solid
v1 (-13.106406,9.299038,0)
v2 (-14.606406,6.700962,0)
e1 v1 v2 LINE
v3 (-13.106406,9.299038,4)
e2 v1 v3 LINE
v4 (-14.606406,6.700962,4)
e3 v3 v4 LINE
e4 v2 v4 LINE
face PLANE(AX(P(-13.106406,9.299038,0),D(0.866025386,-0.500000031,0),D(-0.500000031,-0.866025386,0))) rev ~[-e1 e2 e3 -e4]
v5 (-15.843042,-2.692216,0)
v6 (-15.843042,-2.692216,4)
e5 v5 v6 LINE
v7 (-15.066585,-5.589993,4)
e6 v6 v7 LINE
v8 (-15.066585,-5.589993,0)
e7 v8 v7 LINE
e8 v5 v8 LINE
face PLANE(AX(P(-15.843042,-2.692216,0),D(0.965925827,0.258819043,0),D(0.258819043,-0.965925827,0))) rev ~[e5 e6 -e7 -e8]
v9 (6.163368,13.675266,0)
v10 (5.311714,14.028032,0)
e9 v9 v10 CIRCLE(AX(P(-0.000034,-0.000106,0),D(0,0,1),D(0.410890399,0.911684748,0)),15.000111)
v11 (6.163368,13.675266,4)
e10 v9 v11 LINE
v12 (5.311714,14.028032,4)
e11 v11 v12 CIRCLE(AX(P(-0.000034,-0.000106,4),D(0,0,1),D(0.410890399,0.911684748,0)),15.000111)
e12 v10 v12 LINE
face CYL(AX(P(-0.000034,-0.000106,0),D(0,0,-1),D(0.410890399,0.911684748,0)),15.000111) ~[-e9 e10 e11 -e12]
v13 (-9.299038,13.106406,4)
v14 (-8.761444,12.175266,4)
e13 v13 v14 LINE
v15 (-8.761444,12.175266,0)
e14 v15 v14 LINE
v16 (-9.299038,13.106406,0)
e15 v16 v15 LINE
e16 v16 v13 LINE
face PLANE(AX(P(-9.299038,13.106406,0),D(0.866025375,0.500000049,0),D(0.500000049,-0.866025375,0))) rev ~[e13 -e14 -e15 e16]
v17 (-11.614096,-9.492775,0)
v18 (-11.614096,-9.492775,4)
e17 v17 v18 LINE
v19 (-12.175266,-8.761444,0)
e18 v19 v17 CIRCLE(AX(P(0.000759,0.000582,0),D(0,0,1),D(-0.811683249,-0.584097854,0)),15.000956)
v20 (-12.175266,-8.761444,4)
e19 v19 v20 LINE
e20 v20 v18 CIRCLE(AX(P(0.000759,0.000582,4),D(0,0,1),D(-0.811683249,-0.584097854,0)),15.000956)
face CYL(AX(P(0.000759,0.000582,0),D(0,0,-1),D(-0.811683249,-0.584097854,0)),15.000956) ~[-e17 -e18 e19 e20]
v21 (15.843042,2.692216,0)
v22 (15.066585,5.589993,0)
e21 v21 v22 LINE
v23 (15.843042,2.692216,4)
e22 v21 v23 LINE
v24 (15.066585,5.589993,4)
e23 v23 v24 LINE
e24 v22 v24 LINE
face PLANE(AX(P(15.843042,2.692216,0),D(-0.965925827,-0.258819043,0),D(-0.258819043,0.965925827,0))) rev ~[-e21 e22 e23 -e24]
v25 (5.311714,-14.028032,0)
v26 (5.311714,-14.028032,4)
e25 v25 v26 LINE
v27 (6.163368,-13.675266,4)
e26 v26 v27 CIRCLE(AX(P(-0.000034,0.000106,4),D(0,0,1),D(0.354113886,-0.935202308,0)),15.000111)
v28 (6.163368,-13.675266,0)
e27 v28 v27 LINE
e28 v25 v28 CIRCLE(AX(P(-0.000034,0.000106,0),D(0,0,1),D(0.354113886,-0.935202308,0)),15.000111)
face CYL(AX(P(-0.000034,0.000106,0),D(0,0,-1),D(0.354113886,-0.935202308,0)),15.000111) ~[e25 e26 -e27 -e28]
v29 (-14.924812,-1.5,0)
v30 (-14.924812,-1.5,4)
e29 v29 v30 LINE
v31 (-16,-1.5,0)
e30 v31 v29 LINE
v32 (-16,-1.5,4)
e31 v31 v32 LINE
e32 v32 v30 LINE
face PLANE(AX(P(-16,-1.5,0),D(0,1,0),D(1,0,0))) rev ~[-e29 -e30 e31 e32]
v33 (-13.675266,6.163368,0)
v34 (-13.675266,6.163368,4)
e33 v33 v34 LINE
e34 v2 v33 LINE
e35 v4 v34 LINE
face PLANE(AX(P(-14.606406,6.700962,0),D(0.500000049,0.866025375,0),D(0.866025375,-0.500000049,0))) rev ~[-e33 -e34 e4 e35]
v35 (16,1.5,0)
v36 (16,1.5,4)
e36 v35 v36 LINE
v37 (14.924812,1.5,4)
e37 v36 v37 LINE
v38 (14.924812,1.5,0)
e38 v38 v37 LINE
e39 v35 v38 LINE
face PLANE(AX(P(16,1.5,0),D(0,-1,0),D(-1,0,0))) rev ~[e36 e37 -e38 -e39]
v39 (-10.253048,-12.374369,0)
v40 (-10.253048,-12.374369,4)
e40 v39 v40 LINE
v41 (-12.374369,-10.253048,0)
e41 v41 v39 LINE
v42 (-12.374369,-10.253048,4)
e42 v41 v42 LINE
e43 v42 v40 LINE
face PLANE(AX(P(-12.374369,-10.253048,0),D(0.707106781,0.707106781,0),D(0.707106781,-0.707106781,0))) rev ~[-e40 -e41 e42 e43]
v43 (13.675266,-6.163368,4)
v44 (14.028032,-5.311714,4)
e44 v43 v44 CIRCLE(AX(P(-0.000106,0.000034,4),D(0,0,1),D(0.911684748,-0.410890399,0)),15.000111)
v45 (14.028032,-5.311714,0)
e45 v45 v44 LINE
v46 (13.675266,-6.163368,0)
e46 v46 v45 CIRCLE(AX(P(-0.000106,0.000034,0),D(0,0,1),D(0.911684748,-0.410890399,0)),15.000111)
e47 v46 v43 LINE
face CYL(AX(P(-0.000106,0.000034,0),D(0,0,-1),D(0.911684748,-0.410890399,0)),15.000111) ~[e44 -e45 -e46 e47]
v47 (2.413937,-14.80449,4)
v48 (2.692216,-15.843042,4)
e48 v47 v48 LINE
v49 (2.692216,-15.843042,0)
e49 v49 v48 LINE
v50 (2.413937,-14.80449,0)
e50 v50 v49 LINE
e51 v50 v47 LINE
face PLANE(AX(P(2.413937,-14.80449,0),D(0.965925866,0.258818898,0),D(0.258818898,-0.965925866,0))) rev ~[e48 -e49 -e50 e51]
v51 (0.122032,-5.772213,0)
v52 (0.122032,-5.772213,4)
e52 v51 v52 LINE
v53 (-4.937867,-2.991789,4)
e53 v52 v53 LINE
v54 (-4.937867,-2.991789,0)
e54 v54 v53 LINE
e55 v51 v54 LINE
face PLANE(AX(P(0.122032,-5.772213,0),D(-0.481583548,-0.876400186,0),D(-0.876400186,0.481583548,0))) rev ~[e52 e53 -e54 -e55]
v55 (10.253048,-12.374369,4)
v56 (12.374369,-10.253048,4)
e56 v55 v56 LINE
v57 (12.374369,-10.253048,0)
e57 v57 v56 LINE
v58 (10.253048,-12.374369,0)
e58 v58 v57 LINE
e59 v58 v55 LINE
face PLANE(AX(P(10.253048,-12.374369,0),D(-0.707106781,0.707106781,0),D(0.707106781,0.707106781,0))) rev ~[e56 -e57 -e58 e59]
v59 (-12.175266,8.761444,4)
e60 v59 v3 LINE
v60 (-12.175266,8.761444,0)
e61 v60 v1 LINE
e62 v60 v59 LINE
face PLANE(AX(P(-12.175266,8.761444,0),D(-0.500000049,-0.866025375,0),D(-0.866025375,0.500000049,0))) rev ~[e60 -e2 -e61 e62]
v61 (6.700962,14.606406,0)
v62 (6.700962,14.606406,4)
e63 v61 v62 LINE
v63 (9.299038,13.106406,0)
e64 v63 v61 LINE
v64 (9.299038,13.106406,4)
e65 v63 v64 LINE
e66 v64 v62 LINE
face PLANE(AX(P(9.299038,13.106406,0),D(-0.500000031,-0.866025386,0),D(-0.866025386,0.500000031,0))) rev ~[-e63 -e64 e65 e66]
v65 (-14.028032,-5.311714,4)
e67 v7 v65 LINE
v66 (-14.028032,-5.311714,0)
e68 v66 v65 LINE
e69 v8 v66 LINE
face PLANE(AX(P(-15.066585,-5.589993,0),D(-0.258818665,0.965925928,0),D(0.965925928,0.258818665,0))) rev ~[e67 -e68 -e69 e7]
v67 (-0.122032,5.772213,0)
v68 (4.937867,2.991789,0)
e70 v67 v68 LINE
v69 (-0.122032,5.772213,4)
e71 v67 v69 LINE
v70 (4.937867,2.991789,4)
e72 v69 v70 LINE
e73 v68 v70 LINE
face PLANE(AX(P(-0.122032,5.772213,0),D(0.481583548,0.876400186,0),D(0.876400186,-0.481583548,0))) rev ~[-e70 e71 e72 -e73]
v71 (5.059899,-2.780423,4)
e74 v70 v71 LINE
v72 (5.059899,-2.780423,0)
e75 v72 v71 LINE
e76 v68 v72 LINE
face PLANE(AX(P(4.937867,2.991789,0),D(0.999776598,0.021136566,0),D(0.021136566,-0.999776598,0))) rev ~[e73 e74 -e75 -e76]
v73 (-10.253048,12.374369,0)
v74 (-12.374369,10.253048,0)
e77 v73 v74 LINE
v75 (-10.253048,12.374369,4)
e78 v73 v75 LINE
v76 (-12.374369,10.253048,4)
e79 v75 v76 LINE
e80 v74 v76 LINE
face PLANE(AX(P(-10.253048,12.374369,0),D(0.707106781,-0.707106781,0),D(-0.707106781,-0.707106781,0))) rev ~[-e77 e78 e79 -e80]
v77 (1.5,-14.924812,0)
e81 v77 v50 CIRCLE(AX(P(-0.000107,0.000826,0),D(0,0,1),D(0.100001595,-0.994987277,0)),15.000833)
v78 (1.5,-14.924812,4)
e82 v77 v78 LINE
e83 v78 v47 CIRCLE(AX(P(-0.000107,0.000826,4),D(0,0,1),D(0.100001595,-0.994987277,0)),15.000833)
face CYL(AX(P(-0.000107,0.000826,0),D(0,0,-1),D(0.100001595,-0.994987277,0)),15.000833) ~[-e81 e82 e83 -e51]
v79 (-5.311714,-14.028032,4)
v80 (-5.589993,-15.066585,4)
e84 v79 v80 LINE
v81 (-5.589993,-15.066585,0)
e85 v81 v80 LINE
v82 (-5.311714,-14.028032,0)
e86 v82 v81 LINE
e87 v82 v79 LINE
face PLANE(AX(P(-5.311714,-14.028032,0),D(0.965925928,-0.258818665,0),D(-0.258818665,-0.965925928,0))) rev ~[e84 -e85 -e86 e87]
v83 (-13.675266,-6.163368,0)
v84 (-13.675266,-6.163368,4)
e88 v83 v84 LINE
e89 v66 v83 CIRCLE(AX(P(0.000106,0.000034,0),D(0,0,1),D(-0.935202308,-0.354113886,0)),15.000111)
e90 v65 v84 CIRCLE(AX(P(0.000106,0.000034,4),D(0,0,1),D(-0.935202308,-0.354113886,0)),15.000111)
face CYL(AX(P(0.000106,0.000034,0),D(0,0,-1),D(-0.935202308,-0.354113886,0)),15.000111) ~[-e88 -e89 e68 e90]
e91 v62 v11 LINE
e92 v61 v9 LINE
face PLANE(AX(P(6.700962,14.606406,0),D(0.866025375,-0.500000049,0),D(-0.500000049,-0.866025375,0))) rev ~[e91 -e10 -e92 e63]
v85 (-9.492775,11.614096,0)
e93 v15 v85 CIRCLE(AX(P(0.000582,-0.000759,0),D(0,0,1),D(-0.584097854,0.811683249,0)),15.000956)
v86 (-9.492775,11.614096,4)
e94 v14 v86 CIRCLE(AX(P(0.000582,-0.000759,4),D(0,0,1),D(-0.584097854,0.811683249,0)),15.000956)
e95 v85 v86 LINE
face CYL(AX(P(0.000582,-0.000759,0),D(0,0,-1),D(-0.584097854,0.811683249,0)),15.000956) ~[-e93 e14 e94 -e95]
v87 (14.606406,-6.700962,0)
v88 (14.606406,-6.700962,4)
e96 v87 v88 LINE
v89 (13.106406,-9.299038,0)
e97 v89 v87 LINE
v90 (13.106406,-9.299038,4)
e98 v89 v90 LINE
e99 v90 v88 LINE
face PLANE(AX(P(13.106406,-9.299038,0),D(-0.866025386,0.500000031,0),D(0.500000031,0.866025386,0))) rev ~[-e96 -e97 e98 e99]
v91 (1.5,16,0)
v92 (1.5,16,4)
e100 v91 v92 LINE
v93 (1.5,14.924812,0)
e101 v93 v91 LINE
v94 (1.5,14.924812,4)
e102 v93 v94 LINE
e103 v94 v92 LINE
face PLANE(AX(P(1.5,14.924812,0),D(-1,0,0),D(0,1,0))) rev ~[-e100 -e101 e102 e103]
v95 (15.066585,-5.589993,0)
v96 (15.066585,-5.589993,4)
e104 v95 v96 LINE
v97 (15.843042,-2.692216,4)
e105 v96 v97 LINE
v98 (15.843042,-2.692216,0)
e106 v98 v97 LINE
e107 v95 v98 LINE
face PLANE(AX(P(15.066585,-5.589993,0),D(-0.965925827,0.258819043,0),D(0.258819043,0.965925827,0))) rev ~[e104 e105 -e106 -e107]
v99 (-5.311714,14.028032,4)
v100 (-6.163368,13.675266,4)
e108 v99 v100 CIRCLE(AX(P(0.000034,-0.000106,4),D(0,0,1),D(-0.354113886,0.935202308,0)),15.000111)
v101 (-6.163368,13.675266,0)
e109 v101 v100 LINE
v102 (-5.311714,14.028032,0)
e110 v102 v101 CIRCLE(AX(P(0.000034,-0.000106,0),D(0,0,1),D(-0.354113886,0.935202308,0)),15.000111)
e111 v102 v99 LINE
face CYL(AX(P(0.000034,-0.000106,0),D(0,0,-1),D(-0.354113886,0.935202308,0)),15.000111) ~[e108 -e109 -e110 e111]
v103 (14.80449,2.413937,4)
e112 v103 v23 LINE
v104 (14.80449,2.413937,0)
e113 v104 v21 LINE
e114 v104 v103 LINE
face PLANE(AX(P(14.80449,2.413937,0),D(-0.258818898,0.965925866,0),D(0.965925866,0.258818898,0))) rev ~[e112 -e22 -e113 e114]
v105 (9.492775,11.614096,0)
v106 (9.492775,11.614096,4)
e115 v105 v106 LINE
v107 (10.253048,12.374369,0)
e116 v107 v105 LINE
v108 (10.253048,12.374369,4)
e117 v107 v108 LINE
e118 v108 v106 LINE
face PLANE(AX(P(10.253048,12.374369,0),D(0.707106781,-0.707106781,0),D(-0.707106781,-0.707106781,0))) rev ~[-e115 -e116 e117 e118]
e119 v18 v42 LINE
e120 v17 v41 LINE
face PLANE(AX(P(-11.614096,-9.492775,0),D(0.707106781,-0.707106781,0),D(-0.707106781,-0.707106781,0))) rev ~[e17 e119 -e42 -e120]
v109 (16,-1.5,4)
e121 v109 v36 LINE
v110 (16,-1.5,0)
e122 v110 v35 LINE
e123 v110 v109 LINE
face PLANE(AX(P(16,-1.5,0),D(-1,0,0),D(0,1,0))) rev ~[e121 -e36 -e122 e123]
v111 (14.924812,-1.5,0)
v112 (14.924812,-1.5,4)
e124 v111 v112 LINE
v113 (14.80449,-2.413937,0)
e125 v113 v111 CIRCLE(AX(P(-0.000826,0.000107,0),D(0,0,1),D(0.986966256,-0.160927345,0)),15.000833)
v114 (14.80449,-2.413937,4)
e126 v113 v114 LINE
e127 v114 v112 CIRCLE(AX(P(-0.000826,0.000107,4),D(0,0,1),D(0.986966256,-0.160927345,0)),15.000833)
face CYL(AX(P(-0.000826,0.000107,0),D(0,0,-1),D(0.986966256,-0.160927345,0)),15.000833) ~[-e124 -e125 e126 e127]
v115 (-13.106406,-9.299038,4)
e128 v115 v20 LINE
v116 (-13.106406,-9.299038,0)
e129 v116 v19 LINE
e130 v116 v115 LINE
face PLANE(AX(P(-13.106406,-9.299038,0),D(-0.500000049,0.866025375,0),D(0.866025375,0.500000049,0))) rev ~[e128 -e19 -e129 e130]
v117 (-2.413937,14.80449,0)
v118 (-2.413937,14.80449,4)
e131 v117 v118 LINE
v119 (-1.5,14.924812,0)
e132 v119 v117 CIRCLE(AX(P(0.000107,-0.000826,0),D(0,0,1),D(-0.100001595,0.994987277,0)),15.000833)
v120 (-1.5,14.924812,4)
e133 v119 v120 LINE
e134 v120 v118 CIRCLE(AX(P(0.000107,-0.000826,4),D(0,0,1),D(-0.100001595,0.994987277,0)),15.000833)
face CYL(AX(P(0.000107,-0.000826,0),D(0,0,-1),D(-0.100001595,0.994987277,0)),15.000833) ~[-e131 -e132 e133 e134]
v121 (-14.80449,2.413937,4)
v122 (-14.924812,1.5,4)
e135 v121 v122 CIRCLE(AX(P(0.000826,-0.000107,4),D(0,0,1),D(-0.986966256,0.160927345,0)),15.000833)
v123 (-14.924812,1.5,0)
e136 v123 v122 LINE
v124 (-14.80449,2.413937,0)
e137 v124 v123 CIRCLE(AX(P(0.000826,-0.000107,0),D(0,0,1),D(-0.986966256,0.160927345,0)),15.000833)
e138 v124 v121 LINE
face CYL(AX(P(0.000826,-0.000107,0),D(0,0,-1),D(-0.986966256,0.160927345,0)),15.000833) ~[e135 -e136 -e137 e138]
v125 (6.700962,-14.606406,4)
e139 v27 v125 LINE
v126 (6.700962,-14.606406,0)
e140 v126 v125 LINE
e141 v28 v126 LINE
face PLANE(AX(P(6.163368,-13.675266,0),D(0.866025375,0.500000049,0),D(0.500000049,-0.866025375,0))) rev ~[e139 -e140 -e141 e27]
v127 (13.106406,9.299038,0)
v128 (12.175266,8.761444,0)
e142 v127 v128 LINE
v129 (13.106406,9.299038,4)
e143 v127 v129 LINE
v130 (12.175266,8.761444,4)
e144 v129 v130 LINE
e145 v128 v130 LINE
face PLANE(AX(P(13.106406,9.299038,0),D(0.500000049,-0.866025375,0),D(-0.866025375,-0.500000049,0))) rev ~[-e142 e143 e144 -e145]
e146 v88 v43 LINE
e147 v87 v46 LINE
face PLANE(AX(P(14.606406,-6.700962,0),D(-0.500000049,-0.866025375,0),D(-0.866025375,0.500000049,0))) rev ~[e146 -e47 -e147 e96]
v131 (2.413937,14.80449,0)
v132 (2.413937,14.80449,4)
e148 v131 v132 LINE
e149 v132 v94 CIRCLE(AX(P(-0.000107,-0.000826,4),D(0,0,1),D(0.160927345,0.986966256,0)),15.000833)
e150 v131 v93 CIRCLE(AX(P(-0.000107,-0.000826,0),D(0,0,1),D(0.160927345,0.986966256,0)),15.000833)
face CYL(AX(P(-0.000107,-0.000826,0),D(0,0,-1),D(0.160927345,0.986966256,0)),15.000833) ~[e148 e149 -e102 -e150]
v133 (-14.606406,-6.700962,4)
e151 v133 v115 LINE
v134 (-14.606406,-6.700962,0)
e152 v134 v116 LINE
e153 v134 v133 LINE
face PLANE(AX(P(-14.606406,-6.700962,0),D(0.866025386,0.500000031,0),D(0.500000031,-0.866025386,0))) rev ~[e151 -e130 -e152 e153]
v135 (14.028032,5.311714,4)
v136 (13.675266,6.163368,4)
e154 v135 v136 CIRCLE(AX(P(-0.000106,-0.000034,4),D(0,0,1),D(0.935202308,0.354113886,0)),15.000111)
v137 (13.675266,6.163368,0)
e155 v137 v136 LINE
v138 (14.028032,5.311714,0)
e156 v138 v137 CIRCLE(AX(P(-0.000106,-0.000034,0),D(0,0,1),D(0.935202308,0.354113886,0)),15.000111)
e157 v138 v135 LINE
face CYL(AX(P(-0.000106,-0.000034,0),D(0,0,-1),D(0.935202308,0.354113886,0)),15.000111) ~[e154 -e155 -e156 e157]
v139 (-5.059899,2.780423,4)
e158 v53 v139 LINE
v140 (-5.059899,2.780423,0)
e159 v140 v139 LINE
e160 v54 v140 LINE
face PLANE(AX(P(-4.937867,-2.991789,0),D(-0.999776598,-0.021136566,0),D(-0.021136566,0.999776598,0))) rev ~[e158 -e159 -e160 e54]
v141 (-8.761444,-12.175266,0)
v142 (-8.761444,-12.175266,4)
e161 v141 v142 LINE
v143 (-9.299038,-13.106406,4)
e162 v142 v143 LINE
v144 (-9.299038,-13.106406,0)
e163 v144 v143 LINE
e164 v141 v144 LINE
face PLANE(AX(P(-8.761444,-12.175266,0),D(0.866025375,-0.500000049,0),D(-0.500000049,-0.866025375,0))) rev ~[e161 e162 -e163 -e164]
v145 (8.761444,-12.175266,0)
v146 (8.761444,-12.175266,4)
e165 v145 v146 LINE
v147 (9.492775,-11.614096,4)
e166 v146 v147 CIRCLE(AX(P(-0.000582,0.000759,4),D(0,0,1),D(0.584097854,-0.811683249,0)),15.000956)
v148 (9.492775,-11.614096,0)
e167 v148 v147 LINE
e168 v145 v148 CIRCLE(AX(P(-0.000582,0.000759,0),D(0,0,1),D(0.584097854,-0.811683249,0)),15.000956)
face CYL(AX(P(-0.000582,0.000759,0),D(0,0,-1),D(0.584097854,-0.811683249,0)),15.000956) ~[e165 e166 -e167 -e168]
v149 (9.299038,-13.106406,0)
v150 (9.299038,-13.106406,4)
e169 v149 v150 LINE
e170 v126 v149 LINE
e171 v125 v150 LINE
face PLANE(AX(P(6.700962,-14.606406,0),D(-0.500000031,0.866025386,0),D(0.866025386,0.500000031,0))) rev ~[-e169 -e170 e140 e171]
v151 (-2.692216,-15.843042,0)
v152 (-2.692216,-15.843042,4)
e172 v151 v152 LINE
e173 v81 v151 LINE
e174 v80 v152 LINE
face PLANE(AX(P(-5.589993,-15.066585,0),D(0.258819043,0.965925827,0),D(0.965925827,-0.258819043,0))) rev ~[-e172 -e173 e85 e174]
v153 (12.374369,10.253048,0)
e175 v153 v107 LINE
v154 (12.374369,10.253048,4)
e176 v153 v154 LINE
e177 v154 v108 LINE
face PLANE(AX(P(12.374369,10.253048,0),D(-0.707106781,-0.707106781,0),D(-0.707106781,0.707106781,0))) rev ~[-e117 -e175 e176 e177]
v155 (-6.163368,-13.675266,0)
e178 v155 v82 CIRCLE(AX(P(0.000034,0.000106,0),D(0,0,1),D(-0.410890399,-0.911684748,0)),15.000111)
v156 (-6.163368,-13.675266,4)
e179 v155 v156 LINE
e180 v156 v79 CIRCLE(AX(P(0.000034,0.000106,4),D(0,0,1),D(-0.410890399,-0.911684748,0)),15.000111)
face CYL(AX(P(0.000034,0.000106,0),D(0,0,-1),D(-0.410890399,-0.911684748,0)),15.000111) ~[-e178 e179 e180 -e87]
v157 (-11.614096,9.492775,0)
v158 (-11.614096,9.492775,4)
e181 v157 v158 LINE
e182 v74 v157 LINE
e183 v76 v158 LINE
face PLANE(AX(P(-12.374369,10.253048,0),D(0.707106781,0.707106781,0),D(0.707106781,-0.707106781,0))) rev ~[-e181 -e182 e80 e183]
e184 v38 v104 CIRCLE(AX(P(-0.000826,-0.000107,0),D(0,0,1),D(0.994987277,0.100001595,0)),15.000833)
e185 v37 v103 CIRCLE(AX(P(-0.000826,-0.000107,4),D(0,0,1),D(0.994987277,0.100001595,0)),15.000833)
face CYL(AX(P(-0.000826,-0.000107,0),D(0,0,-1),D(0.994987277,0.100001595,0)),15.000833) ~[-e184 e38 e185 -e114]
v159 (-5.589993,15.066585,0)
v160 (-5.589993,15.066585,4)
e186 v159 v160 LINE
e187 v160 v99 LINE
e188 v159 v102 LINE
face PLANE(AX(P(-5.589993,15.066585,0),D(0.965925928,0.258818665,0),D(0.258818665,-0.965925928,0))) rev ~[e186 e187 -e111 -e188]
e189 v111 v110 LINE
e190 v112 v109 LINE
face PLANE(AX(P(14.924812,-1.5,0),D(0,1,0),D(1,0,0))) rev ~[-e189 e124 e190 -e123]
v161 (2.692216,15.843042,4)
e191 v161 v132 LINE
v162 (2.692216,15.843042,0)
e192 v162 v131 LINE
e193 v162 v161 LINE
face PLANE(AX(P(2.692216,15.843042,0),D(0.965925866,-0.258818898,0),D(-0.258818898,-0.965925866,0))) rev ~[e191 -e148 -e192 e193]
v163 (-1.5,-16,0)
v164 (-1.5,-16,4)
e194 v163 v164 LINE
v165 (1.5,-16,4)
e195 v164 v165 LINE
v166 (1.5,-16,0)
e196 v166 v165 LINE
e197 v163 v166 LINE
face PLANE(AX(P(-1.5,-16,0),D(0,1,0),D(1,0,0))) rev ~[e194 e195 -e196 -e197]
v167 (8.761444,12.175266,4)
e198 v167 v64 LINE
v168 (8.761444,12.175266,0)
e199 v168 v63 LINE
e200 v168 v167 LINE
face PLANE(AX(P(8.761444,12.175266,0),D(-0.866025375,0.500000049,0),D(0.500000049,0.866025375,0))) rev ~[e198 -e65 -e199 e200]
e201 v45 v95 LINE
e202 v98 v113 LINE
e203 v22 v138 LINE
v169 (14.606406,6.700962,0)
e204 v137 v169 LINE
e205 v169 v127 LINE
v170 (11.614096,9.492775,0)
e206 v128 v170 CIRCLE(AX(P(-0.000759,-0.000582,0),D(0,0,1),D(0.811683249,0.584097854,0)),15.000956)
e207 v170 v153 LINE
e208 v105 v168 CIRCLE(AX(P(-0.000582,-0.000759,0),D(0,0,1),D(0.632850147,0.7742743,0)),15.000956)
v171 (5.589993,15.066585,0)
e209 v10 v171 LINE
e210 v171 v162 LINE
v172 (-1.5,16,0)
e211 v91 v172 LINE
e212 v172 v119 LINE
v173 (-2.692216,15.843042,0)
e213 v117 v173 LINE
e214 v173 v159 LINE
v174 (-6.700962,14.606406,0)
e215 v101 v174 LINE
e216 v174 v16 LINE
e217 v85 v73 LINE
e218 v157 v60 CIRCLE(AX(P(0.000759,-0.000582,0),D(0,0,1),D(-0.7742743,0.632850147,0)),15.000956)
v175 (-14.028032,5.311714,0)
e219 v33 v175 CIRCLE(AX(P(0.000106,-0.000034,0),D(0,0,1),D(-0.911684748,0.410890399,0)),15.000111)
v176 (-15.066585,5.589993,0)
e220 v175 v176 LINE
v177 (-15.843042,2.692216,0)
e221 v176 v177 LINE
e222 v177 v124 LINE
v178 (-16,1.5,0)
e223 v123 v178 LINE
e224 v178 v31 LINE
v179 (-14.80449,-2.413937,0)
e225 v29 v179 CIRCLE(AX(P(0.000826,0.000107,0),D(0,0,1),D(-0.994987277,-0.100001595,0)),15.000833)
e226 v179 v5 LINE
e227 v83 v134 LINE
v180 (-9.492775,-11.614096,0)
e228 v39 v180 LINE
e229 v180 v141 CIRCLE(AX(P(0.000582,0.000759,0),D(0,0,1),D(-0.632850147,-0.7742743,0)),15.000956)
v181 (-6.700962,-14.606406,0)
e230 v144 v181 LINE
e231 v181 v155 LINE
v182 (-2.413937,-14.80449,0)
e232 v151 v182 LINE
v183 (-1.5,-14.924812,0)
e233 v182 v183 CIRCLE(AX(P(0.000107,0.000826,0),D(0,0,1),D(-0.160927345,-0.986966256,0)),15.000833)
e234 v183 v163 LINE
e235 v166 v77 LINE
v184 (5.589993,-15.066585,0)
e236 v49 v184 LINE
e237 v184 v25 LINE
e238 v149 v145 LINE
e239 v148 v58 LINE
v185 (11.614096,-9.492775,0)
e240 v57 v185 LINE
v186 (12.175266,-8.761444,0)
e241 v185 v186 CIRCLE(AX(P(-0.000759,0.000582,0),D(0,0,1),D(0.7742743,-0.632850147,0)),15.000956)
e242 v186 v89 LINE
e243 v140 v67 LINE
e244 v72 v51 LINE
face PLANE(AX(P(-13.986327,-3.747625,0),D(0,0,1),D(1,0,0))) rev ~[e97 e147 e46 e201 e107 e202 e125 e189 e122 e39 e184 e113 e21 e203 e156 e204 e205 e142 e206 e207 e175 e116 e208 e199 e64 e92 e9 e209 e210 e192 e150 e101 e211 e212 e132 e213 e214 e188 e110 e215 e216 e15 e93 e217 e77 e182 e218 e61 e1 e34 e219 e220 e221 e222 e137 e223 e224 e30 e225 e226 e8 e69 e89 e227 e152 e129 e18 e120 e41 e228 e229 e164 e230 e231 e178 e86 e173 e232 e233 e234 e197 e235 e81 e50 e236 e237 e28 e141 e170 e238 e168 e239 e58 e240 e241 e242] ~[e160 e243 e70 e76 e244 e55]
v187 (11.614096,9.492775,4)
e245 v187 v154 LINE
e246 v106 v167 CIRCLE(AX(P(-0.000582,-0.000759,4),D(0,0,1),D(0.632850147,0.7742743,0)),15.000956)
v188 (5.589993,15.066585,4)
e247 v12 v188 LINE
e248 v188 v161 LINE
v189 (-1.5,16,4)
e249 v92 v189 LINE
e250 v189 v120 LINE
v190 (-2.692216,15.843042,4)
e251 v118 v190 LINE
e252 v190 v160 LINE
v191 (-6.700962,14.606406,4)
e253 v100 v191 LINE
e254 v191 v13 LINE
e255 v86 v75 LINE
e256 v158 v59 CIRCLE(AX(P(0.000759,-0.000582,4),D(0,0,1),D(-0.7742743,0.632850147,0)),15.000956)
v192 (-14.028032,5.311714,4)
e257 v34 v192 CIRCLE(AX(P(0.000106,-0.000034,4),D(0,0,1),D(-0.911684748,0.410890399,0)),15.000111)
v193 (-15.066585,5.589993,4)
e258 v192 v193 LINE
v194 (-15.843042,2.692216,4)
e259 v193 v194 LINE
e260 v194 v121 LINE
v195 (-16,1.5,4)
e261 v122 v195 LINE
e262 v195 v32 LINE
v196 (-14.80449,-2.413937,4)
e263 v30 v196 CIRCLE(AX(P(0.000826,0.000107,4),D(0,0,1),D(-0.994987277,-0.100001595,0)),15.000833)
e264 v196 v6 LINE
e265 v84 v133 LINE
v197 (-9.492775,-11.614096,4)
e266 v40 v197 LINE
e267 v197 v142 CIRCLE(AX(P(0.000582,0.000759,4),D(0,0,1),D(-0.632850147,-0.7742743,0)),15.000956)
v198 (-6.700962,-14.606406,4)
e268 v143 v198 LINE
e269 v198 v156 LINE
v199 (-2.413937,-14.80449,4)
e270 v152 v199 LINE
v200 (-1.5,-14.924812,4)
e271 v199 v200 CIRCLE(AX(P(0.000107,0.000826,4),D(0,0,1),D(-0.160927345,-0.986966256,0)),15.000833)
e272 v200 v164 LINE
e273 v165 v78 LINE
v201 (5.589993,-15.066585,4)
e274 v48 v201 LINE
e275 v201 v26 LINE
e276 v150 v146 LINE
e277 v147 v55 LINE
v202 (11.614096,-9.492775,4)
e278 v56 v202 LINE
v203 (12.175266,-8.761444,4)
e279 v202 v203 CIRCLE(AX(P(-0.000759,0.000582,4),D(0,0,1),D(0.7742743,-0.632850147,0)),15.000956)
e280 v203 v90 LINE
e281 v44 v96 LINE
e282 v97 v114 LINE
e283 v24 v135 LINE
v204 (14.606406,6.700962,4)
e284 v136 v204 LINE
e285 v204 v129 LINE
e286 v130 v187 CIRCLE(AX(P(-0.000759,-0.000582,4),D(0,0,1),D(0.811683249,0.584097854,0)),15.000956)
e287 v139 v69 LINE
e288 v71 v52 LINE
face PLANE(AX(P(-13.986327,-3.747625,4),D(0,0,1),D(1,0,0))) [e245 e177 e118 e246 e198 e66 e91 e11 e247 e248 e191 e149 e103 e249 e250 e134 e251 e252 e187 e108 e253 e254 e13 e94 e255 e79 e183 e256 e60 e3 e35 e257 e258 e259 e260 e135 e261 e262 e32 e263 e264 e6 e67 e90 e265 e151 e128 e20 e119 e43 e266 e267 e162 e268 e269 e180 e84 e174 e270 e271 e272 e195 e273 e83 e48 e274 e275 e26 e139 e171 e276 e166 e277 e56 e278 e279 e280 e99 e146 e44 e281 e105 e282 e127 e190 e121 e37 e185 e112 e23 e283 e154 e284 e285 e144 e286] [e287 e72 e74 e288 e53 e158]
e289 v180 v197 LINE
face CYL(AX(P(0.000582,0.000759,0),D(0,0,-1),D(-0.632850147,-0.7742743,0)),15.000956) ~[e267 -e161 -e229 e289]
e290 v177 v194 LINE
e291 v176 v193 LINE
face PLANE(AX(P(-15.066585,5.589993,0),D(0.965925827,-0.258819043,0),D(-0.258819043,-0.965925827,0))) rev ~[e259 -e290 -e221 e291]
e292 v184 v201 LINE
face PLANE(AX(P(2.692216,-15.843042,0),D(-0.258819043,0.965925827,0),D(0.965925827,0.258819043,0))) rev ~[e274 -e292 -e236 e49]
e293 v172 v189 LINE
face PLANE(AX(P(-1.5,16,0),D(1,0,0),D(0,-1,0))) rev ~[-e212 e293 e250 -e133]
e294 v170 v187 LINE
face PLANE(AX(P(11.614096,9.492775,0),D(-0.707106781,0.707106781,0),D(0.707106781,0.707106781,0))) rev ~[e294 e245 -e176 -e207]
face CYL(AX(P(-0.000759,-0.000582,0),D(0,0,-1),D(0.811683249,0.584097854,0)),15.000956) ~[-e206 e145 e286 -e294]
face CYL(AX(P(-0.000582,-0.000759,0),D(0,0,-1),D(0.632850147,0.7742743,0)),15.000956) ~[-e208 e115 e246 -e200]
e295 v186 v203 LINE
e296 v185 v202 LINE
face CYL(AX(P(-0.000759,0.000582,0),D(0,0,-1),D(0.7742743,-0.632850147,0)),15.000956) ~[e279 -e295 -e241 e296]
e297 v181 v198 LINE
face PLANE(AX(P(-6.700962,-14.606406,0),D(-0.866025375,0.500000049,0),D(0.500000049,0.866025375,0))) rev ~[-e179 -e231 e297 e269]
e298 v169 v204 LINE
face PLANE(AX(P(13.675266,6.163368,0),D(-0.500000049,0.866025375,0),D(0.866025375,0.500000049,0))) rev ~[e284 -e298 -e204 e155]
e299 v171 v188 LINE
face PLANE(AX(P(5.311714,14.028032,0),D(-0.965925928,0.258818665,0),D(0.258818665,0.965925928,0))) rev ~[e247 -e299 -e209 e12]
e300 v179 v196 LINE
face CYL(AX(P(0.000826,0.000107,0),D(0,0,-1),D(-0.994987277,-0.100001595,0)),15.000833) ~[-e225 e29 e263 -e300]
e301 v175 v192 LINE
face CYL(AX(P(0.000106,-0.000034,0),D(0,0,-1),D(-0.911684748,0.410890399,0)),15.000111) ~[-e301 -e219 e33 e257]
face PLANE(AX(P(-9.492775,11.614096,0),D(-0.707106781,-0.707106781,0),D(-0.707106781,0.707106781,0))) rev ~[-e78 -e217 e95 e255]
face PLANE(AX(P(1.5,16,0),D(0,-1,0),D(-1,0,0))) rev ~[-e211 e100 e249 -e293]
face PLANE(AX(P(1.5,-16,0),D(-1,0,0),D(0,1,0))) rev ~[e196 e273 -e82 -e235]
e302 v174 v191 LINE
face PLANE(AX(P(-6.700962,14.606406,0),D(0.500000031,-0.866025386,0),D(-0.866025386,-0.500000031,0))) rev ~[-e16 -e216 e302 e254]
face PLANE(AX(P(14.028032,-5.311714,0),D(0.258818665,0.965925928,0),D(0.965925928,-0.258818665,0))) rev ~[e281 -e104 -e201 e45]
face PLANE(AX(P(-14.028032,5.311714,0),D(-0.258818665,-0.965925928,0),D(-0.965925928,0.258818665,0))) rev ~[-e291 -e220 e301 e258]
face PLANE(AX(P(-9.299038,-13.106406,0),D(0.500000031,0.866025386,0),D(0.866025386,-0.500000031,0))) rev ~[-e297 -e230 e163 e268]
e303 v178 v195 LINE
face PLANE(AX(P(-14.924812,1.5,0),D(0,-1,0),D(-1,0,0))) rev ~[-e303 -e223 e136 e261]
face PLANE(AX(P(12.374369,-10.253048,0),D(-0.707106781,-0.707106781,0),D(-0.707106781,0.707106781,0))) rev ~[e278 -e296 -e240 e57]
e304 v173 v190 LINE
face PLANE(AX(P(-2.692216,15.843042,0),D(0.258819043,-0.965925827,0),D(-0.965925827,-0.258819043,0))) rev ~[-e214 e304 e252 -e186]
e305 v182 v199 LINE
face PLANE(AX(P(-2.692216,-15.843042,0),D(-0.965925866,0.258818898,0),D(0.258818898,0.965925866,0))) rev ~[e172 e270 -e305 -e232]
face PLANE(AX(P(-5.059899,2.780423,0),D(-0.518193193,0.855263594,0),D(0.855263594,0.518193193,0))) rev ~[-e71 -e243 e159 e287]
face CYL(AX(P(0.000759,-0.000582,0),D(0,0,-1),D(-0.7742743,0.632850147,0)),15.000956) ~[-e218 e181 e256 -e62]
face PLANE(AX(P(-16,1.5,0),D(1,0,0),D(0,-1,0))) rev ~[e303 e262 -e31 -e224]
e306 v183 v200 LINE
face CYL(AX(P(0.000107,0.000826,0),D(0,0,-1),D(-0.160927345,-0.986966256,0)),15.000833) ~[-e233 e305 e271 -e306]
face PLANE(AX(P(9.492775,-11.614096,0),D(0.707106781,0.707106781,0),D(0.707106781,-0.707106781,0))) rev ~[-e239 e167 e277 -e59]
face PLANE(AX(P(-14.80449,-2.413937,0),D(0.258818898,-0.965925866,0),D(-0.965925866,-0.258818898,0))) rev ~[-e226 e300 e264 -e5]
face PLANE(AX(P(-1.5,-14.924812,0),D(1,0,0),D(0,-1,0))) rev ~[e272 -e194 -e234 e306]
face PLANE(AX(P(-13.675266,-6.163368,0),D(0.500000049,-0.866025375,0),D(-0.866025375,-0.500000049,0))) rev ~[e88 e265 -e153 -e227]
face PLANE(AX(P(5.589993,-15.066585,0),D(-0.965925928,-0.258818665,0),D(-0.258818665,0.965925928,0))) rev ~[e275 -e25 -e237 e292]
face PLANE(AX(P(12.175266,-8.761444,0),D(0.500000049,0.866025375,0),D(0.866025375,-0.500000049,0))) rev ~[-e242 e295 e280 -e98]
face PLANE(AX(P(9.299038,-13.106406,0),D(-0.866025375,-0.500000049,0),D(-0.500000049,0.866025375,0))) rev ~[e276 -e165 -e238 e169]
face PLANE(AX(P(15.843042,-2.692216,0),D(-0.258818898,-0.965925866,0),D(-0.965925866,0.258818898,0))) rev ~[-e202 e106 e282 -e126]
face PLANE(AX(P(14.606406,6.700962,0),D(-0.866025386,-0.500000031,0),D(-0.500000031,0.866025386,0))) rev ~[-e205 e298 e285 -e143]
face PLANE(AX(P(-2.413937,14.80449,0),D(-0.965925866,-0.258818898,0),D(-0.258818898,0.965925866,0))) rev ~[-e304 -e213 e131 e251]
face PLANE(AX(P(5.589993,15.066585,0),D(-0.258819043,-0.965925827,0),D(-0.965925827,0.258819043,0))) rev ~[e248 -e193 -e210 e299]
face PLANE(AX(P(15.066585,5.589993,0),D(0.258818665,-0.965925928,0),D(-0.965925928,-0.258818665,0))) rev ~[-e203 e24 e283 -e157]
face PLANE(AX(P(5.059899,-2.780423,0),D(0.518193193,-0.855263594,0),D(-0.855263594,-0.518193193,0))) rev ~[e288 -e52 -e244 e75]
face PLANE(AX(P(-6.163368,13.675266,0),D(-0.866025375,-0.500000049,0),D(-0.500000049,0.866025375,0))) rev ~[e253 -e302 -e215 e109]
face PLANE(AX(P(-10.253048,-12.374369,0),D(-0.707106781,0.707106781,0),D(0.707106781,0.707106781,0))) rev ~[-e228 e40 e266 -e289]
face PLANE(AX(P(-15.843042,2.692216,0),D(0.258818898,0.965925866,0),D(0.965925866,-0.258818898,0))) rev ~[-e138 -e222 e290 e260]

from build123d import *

# Parameters (mm, degrees)
F1_DEPTH = 4


with BuildPart() as f1:
    # F0 (on Top) → F1 (new body)
    with BuildSketch(Plane.XY):
        with BuildLine():
            ThreePointArc((-14.80449, -2.413937), (-14.488887, -3.882286), (-14.028032, -5.311714))
            Line((-14.028032, -5.311714), (-13.134733, -5.072355))
            Line((-13.134733, -5.072355), (-13.91119, -2.174578))
            Line((-13.91119, -2.174578), (-14.80449, -2.413937))
        make_face()
        with BuildLine():
            Line((-10.253048, -12.374369), (-9.492775, -11.614096))
            ThreePointArc((-9.492775, -11.614096), (-10.606602, -10.606602), (-11.614096, -9.492775))
            Line((-11.614096, -9.492775), (-12.374369, -10.253048))
            Line((-12.374369, -10.253048), (-10.253048, -12.374369))
        make_face()
        with BuildLine():
            Line((14.606406, -6.700962), (13.675266, -6.163368))
            ThreePointArc((13.675266, -6.163368), (12.990381, -7.5), (12.175266, -8.761444))
            Line((12.175266, -8.761444), (13.106406, -9.299038))
            Line((13.106406, -9.299038), (14.606406, -6.700962))
        make_face()
        with BuildLine():
            Line((-14, 1.5), (-14.924812, 1.5))
            ThreePointArc((-14.924812, 1.5), (-15, 0), (-14.924812, -1.5))
            Line((-14.924812, -1.5), (-14, -1.5))
            Line((-14, -1.5), (-14, 1.5))
        make_face()
        with BuildLine():
            Line((12.374369, -10.253048), (11.614096, -9.492775))
            ThreePointArc((11.614096, -9.492775), (10.606602, -10.606602), (9.492775, -11.614096))
            Line((9.492775, -11.614096), (10.253048, -12.374369))
            Line((10.253048, -12.374369), (12.374369, -10.253048))
        make_face()
        with BuildLine():
            Line((-13.134733, 5.072355), (-14.028032, 5.311714))
            ThreePointArc((-14.028032, 5.311714), (-14.488887, 3.882286), (-14.80449, 2.413937))
            Line((-14.80449, 2.413937), (-13.91119, 2.174578))
            Line((-13.91119, 2.174578), (-13.134733, 5.072355))
        make_face()
        with BuildLine():
            Line((-13.106406, -9.299038), (-12.175266, -8.761444))
            ThreePointArc((-12.175266, -8.761444), (-12.990381, -7.5), (-13.675266, -6.163368))
            Line((-13.675266, -6.163368), (-14.606406, -6.700962))
            Line((-14.606406, -6.700962), (-13.106406, -9.299038))
        make_face()
        with BuildLine():
            Line((9.299038, -13.106406), (8.761444, -12.175266))
            ThreePointArc((8.761444, -12.175266), (7.5, -12.990381), (6.163368, -13.675266))
            Line((6.163368, -13.675266), (6.700962, -14.606406))
            Line((6.700962, -14.606406), (9.299038, -13.106406))
        make_face()
        with BuildLine():
            Line((-11.374356, 8.299038), (-12.175266, 8.761444))
            ThreePointArc((-12.175266, 8.761444), (-12.990381, 7.5), (-13.675266, 6.163368))
            Line((-13.675266, 6.163368), (-12.874356, 5.700962))
            Line((-12.874356, 5.700962), (-11.374356, 8.299038))
        make_face()
        with BuildLine():
            Line((5.589993, -15.066585), (5.311714, -14.028032))
            ThreePointArc((5.311714, -14.028032), (3.882286, -14.488887), (2.413937, -14.80449))
            Line((2.413937, -14.80449), (2.692216, -15.843042))
            Line((2.692216, -15.843042), (5.589993, -15.066585))
        make_face()
        with BuildLine():
            Line((-8.838835, 10.960155), (-9.492775, 11.614096))
            ThreePointArc((-9.492775, 11.614096), (-10.606602, 10.606602), (-11.614096, 9.492775))
            Line((-11.614096, 9.492775), (-10.960155, 8.838835))
            Line((-10.960155, 8.838835), (-8.838835, 10.960155))
        make_face()
        with BuildLine():
            Line((14, 1.5), (14.924812, 1.5))
            ThreePointArc((14.924812, 1.5), (14.871673, 1.957893), (14.80449, 2.413937))
            Line((14.80449, 2.413937), (13.91119, 2.174578))
            Line((13.91119, 2.174578), (13.134733, 5.072355))
            Line((13.134733, 5.072355), (14.028032, 5.311714))
            ThreePointArc((14.028032, 5.311714), (13.858193, 5.740251), (13.675266, 6.163368))
            Line((13.675266, 6.163368), (12.874356, 5.700962))
            Line((12.874356, 5.700962), (11.374356, 8.299038))
            Line((11.374356, 8.299038), (12.175266, 8.761444))
            ThreePointArc((12.175266, 8.761444), (11.9003, 9.131421), (11.614096, 9.492775))
            Line((11.614096, 9.492775), (10.960155, 8.838835))
            Line((10.960155, 8.838835), (8.838835, 10.960155))
            Line((8.838835, 10.960155), (9.492775, 11.614096))
            ThreePointArc((9.492775, 11.614096), (9.131421, 11.9003), (8.761444, 12.175266))
            Line((8.761444, 12.175266), (8.299038, 11.374356))
            Line((8.299038, 11.374356), (5.700962, 12.874356))
            Line((5.700962, 12.874356), (6.163368, 13.675266))
            ThreePointArc((6.163368, 13.675266), (5.740251, 13.858193), (5.311714, 14.028032))
            Line((5.311714, 14.028032), (5.072355, 13.134733))
            Line((5.072355, 13.134733), (2.174578, 13.91119))
            Line((2.174578, 13.91119), (2.413937, 14.80449))
            ThreePointArc((2.413937, 14.80449), (1.957893, 14.871673), (1.5, 14.924812))
            Line((1.5, 14.924812), (1.5, 14))
            Line((1.5, 14), (-1.5, 14))
            Line((-1.5, 14), (-1.5, 14.924812))
            ThreePointArc((-1.5, 14.924812), (-1.957893, 14.871673), (-2.413937, 14.80449))
            Line((-2.413937, 14.80449), (-2.174578, 13.91119))
            Line((-2.174578, 13.91119), (-5.072355, 13.134733))
            Line((-5.072355, 13.134733), (-5.311714, 14.028032))
            ThreePointArc((-5.311714, 14.028032), (-5.740251, 13.858193), (-6.163368, 13.675266))
            Line((-6.163368, 13.675266), (-5.700962, 12.874356))
            Line((-5.700962, 12.874356), (-8.299038, 11.374356))
            Line((-8.299038, 11.374356), (-8.761444, 12.175266))
            ThreePointArc((-8.761444, 12.175266), (-9.131421, 11.9003), (-9.492775, 11.614096))
            Line((-9.492775, 11.614096), (-8.838835, 10.960155))
            Line((-8.838835, 10.960155), (-10.960155, 8.838835))
            Line((-10.960155, 8.838835), (-11.614096, 9.492775))
            ThreePointArc((-11.614096, 9.492775), (-11.9003, 9.131421), (-12.175266, 8.761444))
            Line((-12.175266, 8.761444), (-11.374356, 8.299038))
            Line((-11.374356, 8.299038), (-12.874356, 5.700962))
            Line((-12.874356, 5.700962), (-13.675266, 6.163368))
            ThreePointArc((-13.675266, 6.163368), (-13.858193, 5.740251), (-14.028032, 5.311714))
            Line((-14.028032, 5.311714), (-13.134733, 5.072355))
            Line((-13.134733, 5.072355), (-13.91119, 2.174578))
            Line((-13.91119, 2.174578), (-14.80449, 2.413937))
            ThreePointArc((-14.80449, 2.413937), (-14.871673, 1.957893), (-14.924812, 1.5))
            Line((-14.924812, 1.5), (-14, 1.5))
            Line((-14, 1.5), (-14, -1.5))
            Line((-14, -1.5), (-14.924812, -1.5))
            ThreePointArc((-14.924812, -1.5), (-14.871673, -1.957893), (-14.80449, -2.413937))
            Line((-14.80449, -2.413937), (-13.91119, -2.174578))
            Line((-13.91119, -2.174578), (-13.134733, -5.072355))
            Line((-13.134733, -5.072355), (-14.028032, -5.311714))
            ThreePointArc((-14.028032, -5.311714), (-13.858193, -5.740251), (-13.675266, -6.163368))
            Line((-13.675266, -6.163368), (-12.874356, -5.700962))
            Line((-12.874356, -5.700962), (-11.374356, -8.299038))
            Line((-11.374356, -8.299038), (-12.175266, -8.761444))
            ThreePointArc((-12.175266, -8.761444), (-11.9003, -9.131421), (-11.614096, -9.492775))
            Line((-11.614096, -9.492775), (-10.960155, -8.838835))
            Line((-10.960155, -8.838835), (-8.838835, -10.960155))
            Line((-8.838835, -10.960155), (-9.492775, -11.614096))
            ThreePointArc((-9.492775, -11.614096), (-9.131421, -11.9003), (-8.761444, -12.175266))
            Line((-8.761444, -12.175266), (-8.299038, -11.374356))
            Line((-8.299038, -11.374356), (-5.700962, -12.874356))
            Line((-5.700962, -12.874356), (-6.163368, -13.675266))
            ThreePointArc((-6.163368, -13.675266), (-5.740251, -13.858193), (-5.311714, -14.028032))
            Line((-5.311714, -14.028032), (-5.072355, -13.134733))
            Line((-5.072355, -13.134733), (-2.174578, -13.91119))
            Line((-2.174578, -13.91119), (-2.413937, -14.80449))
            ThreePointArc((-2.413937, -14.80449), (-1.957893, -14.871673), (-1.5, -14.924812))
            Line((-1.5, -14.924812), (-1.5, -14))
            Line((-1.5, -14), (1.5, -14))
            Line((1.5, -14), (1.5, -14.924812))
            ThreePointArc((1.5, -14.924812), (1.957893, -14.871673), (2.413937, -14.80449))
            Line((2.413937, -14.80449), (2.174578, -13.91119))
            Line((2.174578, -13.91119), (5.072355, -13.134733))
            Line((5.072355, -13.134733), (5.311714, -14.028032))
            ThreePointArc((5.311714, -14.028032), (5.740251, -13.858193), (6.163368, -13.675266))
            Line((6.163368, -13.675266), (5.700962, -12.874356))
            Line((5.700962, -12.874356), (8.299038, -11.374356))
            Line((8.299038, -11.374356), (8.761444, -12.175266))
            ThreePointArc((8.761444, -12.175266), (9.131421, -11.9003), (9.492775, -11.614096))
            Line((9.492775, -11.614096), (8.838835, -10.960155))
            Line((8.838835, -10.960155), (10.960155, -8.838835))
            Line((10.960155, -8.838835), (11.614096, -9.492775))
            ThreePointArc((11.614096, -9.492775), (11.9003, -9.131421), (12.175266, -8.761444))
            Line((12.175266, -8.761444), (11.374356, -8.299038))
            Line((11.374356, -8.299038), (12.874356, -5.700962))
            Line((12.874356, -5.700962), (13.675266, -6.163368))
            ThreePointArc((13.675266, -6.163368), (13.858193, -5.740251), (14.028032, -5.311714))
            Line((14.028032, -5.311714), (13.134733, -5.072355))
            Line((13.134733, -5.072355), (13.91119, -2.174578))
            Line((13.91119, -2.174578), (14.80449, -2.413937))
            ThreePointArc((14.80449, -2.413937), (14.871673, -1.957893), (14.924812, -1.5))
            Line((14.924812, -1.5), (14, -1.5))
            Line((14, -1.5), (14, 1.5))
        make_face()
        Polygon((5.059899, -2.780423), (0.122032, -5.772213), (-4.937867, -2.991789), (-5.059899, 2.780423), (-0.122032, 5.772213), (4.937867, 2.991789), align=None, mode=Mode.SUBTRACT)
        with BuildLine():
            Line((1.5, -16), (1.5, -14.924812))
            ThreePointArc((1.5, -14.924812), (0, -15), (-1.5, -14.924812))
            Line((-1.5, -14.924812), (-1.5, -16))
            Line((-1.5, -16), (1.5, -16))
        make_face()
        with BuildLine():
            Line((-6.700962, -14.606406), (-6.163368, -13.675266))
            ThreePointArc((-6.163368, -13.675266), (-7.5, -12.990381), (-8.761444, -12.175266))
            Line((-8.761444, -12.175266), (-9.299038, -13.106406))
            Line((-9.299038, -13.106406), (-6.700962, -14.606406))
        make_face()
        with BuildLine():
            Line((15.843042, -2.692216), (14.80449, -2.413937))
            ThreePointArc((14.80449, -2.413937), (14.488887, -3.882286), (14.028032, -5.311714))
            Line((14.028032, -5.311714), (15.066585, -5.589993))
            Line((15.066585, -5.589993), (15.843042, -2.692216))
        make_face()
        with BuildLine():
            ThreePointArc((-13.675266, -6.163368), (-12.990381, -7.5), (-12.175266, -8.761444))
            Line((-12.175266, -8.761444), (-11.374356, -8.299038))
            Line((-11.374356, -8.299038), (-12.874356, -5.700962))
            Line((-12.874356, -5.700962), (-13.675266, -6.163368))
        make_face()
        with BuildLine():
            Line((-5.700962, 12.874356), (-6.163368, 13.675266))
            ThreePointArc((-6.163368, 13.675266), (-7.5, 12.990381), (-8.761444, 12.175266))
            Line((-8.761444, 12.175266), (-8.299038, 11.374356))
            Line((-8.299038, 11.374356), (-5.700962, 12.874356))
        make_face()
        with BuildLine():
            ThreePointArc((14.924812, -1.5), (14.981191, -0.750942), (15, 0))
            ThreePointArc((15, 0), (14.981191, 0.750942), (14.924812, 1.5))
            Line((14.924812, 1.5), (14, 1.5))
            Line((14, 1.5), (14, -1.5))
            Line((14, -1.5), (14.924812, -1.5))
        make_face()
        with BuildLine():
            Line((-2.692216, -15.843042), (-2.413937, -14.80449))
            ThreePointArc((-2.413937, -14.80449), (-3.882286, -14.488887), (-5.311714, -14.028032))
            Line((-5.311714, -14.028032), (-5.589993, -15.066585))
            Line((-5.589993, -15.066585), (-2.692216, -15.843042))
        make_face()
        with BuildLine():
            Line((8.299038, 11.374356), (8.761444, 12.175266))
            ThreePointArc((8.761444, 12.175266), (7.5, 12.990381), (6.163368, 13.675266))
            Line((6.163368, 13.675266), (5.700962, 12.874356))
            Line((5.700962, 12.874356), (8.299038, 11.374356))
        make_face()
        with BuildLine():
            ThreePointArc((6.163368, -13.675266), (7.5, -12.990381), (8.761444, -12.175266))
            Line((8.761444, -12.175266), (8.299038, -11.374356))
            Line((8.299038, -11.374356), (5.700962, -12.874356))
            Line((5.700962, -12.874356), (6.163368, -13.675266))
        make_face()
        with BuildLine():
            ThreePointArc((12.175266, -8.761444), (12.990381, -7.5), (13.675266, -6.163368))
            Line((13.675266, -6.163368), (12.874356, -5.700962))
            Line((12.874356, -5.700962), (11.374356, -8.299038))
            Line((11.374356, -8.299038), (12.175266, -8.761444))
        make_face()
        with BuildLine():
            ThreePointArc((2.413937, -14.80449), (3.882286, -14.488887), (5.311714, -14.028032))
            Line((5.311714, -14.028032), (5.072355, -13.134733))
            Line((5.072355, -13.134733), (2.174578, -13.91119))
            Line((2.174578, -13.91119), (2.413937, -14.80449))
        make_face()
        with BuildLine():
            ThreePointArc((-1.5, -14.924812), (0, -15), (1.5, -14.924812))
            Line((1.5, -14.924812), (1.5, -14))
            Line((1.5, -14), (-1.5, -14))
            Line((-1.5, -14), (-1.5, -14.924812))
        make_face()
        with BuildLine():
            Line((12.874356, 5.700962), (13.675266, 6.163368))
            ThreePointArc((13.675266, 6.163368), (12.990381, 7.5), (12.175266, 8.761444))
            Line((12.175266, 8.761444), (11.374356, 8.299038))
            Line((11.374356, 8.299038), (12.874356, 5.700962))
        make_face()
        with BuildLine():
            Line((10.960155, 8.838835), (11.614096, 9.492775))
            ThreePointArc((11.614096, 9.492775), (10.606602, 10.606602), (9.492775, 11.614096))
            Line((9.492775, 11.614096), (8.838835, 10.960155))
            Line((8.838835, 10.960155), (10.960155, 8.838835))
        make_face()
        with BuildLine():
            ThreePointArc((9.492775, -11.614096), (10.606602, -10.606602), (11.614096, -9.492775))
            Line((11.614096, -9.492775), (10.960155, -8.838835))
            Line((10.960155, -8.838835), (8.838835, -10.960155))
            Line((8.838835, -10.960155), (9.492775, -11.614096))
        make_face()
        with BuildLine():
            Line((5.072355, 13.134733), (5.311714, 14.028032))
            ThreePointArc((5.311714, 14.028032), (3.882286, 14.488887), (2.413937, 14.80449))
            Line((2.413937, 14.80449), (2.174578, 13.91119))
            Line((2.174578, 13.91119), (5.072355, 13.134733))
        make_face()
        with BuildLine():
            ThreePointArc((14.028032, 5.311714), (14.488887, 3.882286), (14.80449, 2.413937))
            Line((14.80449, 2.413937), (15.843042, 2.692216))
            Line((15.843042, 2.692216), (15.066585, 5.589993))
            Line((15.066585, 5.589993), (14.028032, 5.311714))
        make_face()
        with BuildLine():
            ThreePointArc((12.175266, 8.761444), (12.990381, 7.5), (13.675266, 6.163368))
            Line((13.675266, 6.163368), (14.606406, 6.700962))
            Line((14.606406, 6.700962), (13.106406, 9.299038))
            Line((13.106406, 9.299038), (12.175266, 8.761444))
        make_face()
        with BuildLine():
            ThreePointArc((9.492775, 11.614096), (10.606602, 10.606602), (11.614096, 9.492775))
            Line((11.614096, 9.492775), (12.374369, 10.253048))
            Line((12.374369, 10.253048), (10.253048, 12.374369))
            Line((10.253048, 12.374369), (9.492775, 11.614096))
        make_face()
        with BuildLine():
            ThreePointArc((6.163368, 13.675266), (7.5, 12.990381), (8.761444, 12.175266))
            Line((8.761444, 12.175266), (9.299038, 13.106406))
            Line((9.299038, 13.106406), (6.700962, 14.606406))
            Line((6.700962, 14.606406), (6.163368, 13.675266))
        make_face()
        with BuildLine():
            ThreePointArc((2.413937, 14.80449), (3.882286, 14.488887), (5.311714, 14.028032))
            Line((5.311714, 14.028032), (5.589993, 15.066585))
            Line((5.589993, 15.066585), (2.692216, 15.843042))
            Line((2.692216, 15.843042), (2.413937, 14.80449))
        make_face()
        with BuildLine():
            ThreePointArc((-5.311714, 14.028032), (-3.882286, 14.488887), (-2.413937, 14.80449))
            Line((-2.413937, 14.80449), (-2.692216, 15.843042))
            Line((-2.692216, 15.843042), (-5.589993, 15.066585))
            Line((-5.589993, 15.066585), (-5.311714, 14.028032))
        make_face()
        with BuildLine():
            ThreePointArc((-8.761444, 12.175266), (-7.5, 12.990381), (-6.163368, 13.675266))
            Line((-6.163368, 13.675266), (-6.700962, 14.606406))
            Line((-6.700962, 14.606406), (-9.299038, 13.106406))
            Line((-9.299038, 13.106406), (-8.761444, 12.175266))
        make_face()
        with BuildLine():
            ThreePointArc((-11.614096, 9.492775), (-10.606602, 10.606602), (-9.492775, 11.614096))
            Line((-9.492775, 11.614096), (-10.253048, 12.374369))
            Line((-10.253048, 12.374369), (-12.374369, 10.253048))
            Line((-12.374369, 10.253048), (-11.614096, 9.492775))
        make_face()
        with BuildLine():
            ThreePointArc((-13.675266, 6.163368), (-12.990381, 7.5), (-12.175266, 8.761444))
            Line((-12.175266, 8.761444), (-13.106406, 9.299038))
            Line((-13.106406, 9.299038), (-14.606406, 6.700962))
            Line((-14.606406, 6.700962), (-13.675266, 6.163368))
        make_face()
        with BuildLine():
            ThreePointArc((-14.80449, 2.413937), (-14.488887, 3.882286), (-14.028032, 5.311714))
            Line((-14.028032, 5.311714), (-15.066585, 5.589993))
            Line((-15.066585, 5.589993), (-15.843042, 2.692216))
            Line((-15.843042, 2.692216), (-14.80449, 2.413937))
        make_face()
        with BuildLine():
            ThreePointArc((-14.924812, -1.5), (-15, 0), (-14.924812, 1.5))
            Line((-14.924812, 1.5), (-16, 1.5))
            Line((-16, 1.5), (-16, -1.5))
            Line((-16, -1.5), (-14.924812, -1.5))
        make_face()
        with BuildLine():
            Line((-15.066585, -5.589993), (-14.028032, -5.311714))
            ThreePointArc((-14.028032, -5.311714), (-14.488887, -3.882286), (-14.80449, -2.413937))
            Line((-14.80449, -2.413937), (-15.843042, -2.692216))
            Line((-15.843042, -2.692216), (-15.066585, -5.589993))
        make_face()
        with BuildLine():
            ThreePointArc((-11.614096, -9.492775), (-10.606602, -10.606602), (-9.492775, -11.614096))
            Line((-9.492775, -11.614096), (-8.838835, -10.960155))
            Line((-8.838835, -10.960155), (-10.960155, -8.838835))
            Line((-10.960155, -8.838835), (-11.614096, -9.492775))
        make_face()
        with BuildLine():
            ThreePointArc((14.924812, 1.5), (14.981191, 0.750942), (15, 0))
            ThreePointArc((15, 0), (14.981191, -0.750942), (14.924812, -1.5))
            Line((14.924812, -1.5), (16, -1.5))
            Line((16, -1.5), (16, 1.5))
            Line((16, 1.5), (14.924812, 1.5))
        make_face()
        with BuildLine():
            ThreePointArc((-8.761444, -12.175266), (-7.5, -12.990381), (-6.163368, -13.675266))
            Line((-6.163368, -13.675266), (-5.700962, -12.874356))
            Line((-5.700962, -12.874356), (-8.299038, -11.374356))
            Line((-8.299038, -11.374356), (-8.761444, -12.175266))
        make_face()
        with BuildLine():
            Line((-2.174578, 13.91119), (-2.413937, 14.80449))
            ThreePointArc((-2.413937, 14.80449), (-3.882286, 14.488887), (-5.311714, 14.028032))
            Line((-5.311714, 14.028032), (-5.072355, 13.134733))
            Line((-5.072355, 13.134733), (-2.174578, 13.91119))
        make_face()
        with BuildLine():
            ThreePointArc((-5.311714, -14.028032), (-3.882286, -14.488887), (-2.413937, -14.80449))
            Line((-2.413937, -14.80449), (-2.174578, -13.91119))
            Line((-2.174578, -13.91119), (-5.072355, -13.134733))
            Line((-5.072355, -13.134733), (-5.311714, -14.028032))
        make_face()
        with BuildLine():
            Line((13.91119, 2.174578), (14.80449, 2.413937))
            ThreePointArc((14.80449, 2.413937), (14.488887, 3.882286), (14.028032, 5.311714))
            Line((14.028032, 5.311714), (13.134733, 5.072355))
            Line((13.134733, 5.072355), (13.91119, 2.174578))
        make_face()
        with BuildLine():
            ThreePointArc((14.028032, -5.311714), (14.488887, -3.882286), (14.80449, -2.413937))
            Line((14.80449, -2.413937), (13.91119, -2.174578))
            Line((13.91119, -2.174578), (13.134733, -5.072355))
            Line((13.134733, -5.072355), (14.028032, -5.311714))
        make_face()
        with BuildLine():
            Line((1.5, 14), (1.5, 14.924812))
            ThreePointArc((1.5, 14.924812), (0, 15), (-1.5, 14.924812))
            Line((-1.5, 14.924812), (-1.5, 14))
            Line((-1.5, 14), (1.5, 14))
        make_face()
        with BuildLine():
            ThreePointArc((-1.5, 14.924812), (0, 15), (1.5, 14.924812))
            Line((1.5, 14.924812), (1.5, 16))
            Line((1.5, 16), (-1.5, 16))
            Line((-1.5, 16), (-1.5, 14.924812))
        make_face()
    extrude(amount=F1_DEPTH)


solid = f1.part
